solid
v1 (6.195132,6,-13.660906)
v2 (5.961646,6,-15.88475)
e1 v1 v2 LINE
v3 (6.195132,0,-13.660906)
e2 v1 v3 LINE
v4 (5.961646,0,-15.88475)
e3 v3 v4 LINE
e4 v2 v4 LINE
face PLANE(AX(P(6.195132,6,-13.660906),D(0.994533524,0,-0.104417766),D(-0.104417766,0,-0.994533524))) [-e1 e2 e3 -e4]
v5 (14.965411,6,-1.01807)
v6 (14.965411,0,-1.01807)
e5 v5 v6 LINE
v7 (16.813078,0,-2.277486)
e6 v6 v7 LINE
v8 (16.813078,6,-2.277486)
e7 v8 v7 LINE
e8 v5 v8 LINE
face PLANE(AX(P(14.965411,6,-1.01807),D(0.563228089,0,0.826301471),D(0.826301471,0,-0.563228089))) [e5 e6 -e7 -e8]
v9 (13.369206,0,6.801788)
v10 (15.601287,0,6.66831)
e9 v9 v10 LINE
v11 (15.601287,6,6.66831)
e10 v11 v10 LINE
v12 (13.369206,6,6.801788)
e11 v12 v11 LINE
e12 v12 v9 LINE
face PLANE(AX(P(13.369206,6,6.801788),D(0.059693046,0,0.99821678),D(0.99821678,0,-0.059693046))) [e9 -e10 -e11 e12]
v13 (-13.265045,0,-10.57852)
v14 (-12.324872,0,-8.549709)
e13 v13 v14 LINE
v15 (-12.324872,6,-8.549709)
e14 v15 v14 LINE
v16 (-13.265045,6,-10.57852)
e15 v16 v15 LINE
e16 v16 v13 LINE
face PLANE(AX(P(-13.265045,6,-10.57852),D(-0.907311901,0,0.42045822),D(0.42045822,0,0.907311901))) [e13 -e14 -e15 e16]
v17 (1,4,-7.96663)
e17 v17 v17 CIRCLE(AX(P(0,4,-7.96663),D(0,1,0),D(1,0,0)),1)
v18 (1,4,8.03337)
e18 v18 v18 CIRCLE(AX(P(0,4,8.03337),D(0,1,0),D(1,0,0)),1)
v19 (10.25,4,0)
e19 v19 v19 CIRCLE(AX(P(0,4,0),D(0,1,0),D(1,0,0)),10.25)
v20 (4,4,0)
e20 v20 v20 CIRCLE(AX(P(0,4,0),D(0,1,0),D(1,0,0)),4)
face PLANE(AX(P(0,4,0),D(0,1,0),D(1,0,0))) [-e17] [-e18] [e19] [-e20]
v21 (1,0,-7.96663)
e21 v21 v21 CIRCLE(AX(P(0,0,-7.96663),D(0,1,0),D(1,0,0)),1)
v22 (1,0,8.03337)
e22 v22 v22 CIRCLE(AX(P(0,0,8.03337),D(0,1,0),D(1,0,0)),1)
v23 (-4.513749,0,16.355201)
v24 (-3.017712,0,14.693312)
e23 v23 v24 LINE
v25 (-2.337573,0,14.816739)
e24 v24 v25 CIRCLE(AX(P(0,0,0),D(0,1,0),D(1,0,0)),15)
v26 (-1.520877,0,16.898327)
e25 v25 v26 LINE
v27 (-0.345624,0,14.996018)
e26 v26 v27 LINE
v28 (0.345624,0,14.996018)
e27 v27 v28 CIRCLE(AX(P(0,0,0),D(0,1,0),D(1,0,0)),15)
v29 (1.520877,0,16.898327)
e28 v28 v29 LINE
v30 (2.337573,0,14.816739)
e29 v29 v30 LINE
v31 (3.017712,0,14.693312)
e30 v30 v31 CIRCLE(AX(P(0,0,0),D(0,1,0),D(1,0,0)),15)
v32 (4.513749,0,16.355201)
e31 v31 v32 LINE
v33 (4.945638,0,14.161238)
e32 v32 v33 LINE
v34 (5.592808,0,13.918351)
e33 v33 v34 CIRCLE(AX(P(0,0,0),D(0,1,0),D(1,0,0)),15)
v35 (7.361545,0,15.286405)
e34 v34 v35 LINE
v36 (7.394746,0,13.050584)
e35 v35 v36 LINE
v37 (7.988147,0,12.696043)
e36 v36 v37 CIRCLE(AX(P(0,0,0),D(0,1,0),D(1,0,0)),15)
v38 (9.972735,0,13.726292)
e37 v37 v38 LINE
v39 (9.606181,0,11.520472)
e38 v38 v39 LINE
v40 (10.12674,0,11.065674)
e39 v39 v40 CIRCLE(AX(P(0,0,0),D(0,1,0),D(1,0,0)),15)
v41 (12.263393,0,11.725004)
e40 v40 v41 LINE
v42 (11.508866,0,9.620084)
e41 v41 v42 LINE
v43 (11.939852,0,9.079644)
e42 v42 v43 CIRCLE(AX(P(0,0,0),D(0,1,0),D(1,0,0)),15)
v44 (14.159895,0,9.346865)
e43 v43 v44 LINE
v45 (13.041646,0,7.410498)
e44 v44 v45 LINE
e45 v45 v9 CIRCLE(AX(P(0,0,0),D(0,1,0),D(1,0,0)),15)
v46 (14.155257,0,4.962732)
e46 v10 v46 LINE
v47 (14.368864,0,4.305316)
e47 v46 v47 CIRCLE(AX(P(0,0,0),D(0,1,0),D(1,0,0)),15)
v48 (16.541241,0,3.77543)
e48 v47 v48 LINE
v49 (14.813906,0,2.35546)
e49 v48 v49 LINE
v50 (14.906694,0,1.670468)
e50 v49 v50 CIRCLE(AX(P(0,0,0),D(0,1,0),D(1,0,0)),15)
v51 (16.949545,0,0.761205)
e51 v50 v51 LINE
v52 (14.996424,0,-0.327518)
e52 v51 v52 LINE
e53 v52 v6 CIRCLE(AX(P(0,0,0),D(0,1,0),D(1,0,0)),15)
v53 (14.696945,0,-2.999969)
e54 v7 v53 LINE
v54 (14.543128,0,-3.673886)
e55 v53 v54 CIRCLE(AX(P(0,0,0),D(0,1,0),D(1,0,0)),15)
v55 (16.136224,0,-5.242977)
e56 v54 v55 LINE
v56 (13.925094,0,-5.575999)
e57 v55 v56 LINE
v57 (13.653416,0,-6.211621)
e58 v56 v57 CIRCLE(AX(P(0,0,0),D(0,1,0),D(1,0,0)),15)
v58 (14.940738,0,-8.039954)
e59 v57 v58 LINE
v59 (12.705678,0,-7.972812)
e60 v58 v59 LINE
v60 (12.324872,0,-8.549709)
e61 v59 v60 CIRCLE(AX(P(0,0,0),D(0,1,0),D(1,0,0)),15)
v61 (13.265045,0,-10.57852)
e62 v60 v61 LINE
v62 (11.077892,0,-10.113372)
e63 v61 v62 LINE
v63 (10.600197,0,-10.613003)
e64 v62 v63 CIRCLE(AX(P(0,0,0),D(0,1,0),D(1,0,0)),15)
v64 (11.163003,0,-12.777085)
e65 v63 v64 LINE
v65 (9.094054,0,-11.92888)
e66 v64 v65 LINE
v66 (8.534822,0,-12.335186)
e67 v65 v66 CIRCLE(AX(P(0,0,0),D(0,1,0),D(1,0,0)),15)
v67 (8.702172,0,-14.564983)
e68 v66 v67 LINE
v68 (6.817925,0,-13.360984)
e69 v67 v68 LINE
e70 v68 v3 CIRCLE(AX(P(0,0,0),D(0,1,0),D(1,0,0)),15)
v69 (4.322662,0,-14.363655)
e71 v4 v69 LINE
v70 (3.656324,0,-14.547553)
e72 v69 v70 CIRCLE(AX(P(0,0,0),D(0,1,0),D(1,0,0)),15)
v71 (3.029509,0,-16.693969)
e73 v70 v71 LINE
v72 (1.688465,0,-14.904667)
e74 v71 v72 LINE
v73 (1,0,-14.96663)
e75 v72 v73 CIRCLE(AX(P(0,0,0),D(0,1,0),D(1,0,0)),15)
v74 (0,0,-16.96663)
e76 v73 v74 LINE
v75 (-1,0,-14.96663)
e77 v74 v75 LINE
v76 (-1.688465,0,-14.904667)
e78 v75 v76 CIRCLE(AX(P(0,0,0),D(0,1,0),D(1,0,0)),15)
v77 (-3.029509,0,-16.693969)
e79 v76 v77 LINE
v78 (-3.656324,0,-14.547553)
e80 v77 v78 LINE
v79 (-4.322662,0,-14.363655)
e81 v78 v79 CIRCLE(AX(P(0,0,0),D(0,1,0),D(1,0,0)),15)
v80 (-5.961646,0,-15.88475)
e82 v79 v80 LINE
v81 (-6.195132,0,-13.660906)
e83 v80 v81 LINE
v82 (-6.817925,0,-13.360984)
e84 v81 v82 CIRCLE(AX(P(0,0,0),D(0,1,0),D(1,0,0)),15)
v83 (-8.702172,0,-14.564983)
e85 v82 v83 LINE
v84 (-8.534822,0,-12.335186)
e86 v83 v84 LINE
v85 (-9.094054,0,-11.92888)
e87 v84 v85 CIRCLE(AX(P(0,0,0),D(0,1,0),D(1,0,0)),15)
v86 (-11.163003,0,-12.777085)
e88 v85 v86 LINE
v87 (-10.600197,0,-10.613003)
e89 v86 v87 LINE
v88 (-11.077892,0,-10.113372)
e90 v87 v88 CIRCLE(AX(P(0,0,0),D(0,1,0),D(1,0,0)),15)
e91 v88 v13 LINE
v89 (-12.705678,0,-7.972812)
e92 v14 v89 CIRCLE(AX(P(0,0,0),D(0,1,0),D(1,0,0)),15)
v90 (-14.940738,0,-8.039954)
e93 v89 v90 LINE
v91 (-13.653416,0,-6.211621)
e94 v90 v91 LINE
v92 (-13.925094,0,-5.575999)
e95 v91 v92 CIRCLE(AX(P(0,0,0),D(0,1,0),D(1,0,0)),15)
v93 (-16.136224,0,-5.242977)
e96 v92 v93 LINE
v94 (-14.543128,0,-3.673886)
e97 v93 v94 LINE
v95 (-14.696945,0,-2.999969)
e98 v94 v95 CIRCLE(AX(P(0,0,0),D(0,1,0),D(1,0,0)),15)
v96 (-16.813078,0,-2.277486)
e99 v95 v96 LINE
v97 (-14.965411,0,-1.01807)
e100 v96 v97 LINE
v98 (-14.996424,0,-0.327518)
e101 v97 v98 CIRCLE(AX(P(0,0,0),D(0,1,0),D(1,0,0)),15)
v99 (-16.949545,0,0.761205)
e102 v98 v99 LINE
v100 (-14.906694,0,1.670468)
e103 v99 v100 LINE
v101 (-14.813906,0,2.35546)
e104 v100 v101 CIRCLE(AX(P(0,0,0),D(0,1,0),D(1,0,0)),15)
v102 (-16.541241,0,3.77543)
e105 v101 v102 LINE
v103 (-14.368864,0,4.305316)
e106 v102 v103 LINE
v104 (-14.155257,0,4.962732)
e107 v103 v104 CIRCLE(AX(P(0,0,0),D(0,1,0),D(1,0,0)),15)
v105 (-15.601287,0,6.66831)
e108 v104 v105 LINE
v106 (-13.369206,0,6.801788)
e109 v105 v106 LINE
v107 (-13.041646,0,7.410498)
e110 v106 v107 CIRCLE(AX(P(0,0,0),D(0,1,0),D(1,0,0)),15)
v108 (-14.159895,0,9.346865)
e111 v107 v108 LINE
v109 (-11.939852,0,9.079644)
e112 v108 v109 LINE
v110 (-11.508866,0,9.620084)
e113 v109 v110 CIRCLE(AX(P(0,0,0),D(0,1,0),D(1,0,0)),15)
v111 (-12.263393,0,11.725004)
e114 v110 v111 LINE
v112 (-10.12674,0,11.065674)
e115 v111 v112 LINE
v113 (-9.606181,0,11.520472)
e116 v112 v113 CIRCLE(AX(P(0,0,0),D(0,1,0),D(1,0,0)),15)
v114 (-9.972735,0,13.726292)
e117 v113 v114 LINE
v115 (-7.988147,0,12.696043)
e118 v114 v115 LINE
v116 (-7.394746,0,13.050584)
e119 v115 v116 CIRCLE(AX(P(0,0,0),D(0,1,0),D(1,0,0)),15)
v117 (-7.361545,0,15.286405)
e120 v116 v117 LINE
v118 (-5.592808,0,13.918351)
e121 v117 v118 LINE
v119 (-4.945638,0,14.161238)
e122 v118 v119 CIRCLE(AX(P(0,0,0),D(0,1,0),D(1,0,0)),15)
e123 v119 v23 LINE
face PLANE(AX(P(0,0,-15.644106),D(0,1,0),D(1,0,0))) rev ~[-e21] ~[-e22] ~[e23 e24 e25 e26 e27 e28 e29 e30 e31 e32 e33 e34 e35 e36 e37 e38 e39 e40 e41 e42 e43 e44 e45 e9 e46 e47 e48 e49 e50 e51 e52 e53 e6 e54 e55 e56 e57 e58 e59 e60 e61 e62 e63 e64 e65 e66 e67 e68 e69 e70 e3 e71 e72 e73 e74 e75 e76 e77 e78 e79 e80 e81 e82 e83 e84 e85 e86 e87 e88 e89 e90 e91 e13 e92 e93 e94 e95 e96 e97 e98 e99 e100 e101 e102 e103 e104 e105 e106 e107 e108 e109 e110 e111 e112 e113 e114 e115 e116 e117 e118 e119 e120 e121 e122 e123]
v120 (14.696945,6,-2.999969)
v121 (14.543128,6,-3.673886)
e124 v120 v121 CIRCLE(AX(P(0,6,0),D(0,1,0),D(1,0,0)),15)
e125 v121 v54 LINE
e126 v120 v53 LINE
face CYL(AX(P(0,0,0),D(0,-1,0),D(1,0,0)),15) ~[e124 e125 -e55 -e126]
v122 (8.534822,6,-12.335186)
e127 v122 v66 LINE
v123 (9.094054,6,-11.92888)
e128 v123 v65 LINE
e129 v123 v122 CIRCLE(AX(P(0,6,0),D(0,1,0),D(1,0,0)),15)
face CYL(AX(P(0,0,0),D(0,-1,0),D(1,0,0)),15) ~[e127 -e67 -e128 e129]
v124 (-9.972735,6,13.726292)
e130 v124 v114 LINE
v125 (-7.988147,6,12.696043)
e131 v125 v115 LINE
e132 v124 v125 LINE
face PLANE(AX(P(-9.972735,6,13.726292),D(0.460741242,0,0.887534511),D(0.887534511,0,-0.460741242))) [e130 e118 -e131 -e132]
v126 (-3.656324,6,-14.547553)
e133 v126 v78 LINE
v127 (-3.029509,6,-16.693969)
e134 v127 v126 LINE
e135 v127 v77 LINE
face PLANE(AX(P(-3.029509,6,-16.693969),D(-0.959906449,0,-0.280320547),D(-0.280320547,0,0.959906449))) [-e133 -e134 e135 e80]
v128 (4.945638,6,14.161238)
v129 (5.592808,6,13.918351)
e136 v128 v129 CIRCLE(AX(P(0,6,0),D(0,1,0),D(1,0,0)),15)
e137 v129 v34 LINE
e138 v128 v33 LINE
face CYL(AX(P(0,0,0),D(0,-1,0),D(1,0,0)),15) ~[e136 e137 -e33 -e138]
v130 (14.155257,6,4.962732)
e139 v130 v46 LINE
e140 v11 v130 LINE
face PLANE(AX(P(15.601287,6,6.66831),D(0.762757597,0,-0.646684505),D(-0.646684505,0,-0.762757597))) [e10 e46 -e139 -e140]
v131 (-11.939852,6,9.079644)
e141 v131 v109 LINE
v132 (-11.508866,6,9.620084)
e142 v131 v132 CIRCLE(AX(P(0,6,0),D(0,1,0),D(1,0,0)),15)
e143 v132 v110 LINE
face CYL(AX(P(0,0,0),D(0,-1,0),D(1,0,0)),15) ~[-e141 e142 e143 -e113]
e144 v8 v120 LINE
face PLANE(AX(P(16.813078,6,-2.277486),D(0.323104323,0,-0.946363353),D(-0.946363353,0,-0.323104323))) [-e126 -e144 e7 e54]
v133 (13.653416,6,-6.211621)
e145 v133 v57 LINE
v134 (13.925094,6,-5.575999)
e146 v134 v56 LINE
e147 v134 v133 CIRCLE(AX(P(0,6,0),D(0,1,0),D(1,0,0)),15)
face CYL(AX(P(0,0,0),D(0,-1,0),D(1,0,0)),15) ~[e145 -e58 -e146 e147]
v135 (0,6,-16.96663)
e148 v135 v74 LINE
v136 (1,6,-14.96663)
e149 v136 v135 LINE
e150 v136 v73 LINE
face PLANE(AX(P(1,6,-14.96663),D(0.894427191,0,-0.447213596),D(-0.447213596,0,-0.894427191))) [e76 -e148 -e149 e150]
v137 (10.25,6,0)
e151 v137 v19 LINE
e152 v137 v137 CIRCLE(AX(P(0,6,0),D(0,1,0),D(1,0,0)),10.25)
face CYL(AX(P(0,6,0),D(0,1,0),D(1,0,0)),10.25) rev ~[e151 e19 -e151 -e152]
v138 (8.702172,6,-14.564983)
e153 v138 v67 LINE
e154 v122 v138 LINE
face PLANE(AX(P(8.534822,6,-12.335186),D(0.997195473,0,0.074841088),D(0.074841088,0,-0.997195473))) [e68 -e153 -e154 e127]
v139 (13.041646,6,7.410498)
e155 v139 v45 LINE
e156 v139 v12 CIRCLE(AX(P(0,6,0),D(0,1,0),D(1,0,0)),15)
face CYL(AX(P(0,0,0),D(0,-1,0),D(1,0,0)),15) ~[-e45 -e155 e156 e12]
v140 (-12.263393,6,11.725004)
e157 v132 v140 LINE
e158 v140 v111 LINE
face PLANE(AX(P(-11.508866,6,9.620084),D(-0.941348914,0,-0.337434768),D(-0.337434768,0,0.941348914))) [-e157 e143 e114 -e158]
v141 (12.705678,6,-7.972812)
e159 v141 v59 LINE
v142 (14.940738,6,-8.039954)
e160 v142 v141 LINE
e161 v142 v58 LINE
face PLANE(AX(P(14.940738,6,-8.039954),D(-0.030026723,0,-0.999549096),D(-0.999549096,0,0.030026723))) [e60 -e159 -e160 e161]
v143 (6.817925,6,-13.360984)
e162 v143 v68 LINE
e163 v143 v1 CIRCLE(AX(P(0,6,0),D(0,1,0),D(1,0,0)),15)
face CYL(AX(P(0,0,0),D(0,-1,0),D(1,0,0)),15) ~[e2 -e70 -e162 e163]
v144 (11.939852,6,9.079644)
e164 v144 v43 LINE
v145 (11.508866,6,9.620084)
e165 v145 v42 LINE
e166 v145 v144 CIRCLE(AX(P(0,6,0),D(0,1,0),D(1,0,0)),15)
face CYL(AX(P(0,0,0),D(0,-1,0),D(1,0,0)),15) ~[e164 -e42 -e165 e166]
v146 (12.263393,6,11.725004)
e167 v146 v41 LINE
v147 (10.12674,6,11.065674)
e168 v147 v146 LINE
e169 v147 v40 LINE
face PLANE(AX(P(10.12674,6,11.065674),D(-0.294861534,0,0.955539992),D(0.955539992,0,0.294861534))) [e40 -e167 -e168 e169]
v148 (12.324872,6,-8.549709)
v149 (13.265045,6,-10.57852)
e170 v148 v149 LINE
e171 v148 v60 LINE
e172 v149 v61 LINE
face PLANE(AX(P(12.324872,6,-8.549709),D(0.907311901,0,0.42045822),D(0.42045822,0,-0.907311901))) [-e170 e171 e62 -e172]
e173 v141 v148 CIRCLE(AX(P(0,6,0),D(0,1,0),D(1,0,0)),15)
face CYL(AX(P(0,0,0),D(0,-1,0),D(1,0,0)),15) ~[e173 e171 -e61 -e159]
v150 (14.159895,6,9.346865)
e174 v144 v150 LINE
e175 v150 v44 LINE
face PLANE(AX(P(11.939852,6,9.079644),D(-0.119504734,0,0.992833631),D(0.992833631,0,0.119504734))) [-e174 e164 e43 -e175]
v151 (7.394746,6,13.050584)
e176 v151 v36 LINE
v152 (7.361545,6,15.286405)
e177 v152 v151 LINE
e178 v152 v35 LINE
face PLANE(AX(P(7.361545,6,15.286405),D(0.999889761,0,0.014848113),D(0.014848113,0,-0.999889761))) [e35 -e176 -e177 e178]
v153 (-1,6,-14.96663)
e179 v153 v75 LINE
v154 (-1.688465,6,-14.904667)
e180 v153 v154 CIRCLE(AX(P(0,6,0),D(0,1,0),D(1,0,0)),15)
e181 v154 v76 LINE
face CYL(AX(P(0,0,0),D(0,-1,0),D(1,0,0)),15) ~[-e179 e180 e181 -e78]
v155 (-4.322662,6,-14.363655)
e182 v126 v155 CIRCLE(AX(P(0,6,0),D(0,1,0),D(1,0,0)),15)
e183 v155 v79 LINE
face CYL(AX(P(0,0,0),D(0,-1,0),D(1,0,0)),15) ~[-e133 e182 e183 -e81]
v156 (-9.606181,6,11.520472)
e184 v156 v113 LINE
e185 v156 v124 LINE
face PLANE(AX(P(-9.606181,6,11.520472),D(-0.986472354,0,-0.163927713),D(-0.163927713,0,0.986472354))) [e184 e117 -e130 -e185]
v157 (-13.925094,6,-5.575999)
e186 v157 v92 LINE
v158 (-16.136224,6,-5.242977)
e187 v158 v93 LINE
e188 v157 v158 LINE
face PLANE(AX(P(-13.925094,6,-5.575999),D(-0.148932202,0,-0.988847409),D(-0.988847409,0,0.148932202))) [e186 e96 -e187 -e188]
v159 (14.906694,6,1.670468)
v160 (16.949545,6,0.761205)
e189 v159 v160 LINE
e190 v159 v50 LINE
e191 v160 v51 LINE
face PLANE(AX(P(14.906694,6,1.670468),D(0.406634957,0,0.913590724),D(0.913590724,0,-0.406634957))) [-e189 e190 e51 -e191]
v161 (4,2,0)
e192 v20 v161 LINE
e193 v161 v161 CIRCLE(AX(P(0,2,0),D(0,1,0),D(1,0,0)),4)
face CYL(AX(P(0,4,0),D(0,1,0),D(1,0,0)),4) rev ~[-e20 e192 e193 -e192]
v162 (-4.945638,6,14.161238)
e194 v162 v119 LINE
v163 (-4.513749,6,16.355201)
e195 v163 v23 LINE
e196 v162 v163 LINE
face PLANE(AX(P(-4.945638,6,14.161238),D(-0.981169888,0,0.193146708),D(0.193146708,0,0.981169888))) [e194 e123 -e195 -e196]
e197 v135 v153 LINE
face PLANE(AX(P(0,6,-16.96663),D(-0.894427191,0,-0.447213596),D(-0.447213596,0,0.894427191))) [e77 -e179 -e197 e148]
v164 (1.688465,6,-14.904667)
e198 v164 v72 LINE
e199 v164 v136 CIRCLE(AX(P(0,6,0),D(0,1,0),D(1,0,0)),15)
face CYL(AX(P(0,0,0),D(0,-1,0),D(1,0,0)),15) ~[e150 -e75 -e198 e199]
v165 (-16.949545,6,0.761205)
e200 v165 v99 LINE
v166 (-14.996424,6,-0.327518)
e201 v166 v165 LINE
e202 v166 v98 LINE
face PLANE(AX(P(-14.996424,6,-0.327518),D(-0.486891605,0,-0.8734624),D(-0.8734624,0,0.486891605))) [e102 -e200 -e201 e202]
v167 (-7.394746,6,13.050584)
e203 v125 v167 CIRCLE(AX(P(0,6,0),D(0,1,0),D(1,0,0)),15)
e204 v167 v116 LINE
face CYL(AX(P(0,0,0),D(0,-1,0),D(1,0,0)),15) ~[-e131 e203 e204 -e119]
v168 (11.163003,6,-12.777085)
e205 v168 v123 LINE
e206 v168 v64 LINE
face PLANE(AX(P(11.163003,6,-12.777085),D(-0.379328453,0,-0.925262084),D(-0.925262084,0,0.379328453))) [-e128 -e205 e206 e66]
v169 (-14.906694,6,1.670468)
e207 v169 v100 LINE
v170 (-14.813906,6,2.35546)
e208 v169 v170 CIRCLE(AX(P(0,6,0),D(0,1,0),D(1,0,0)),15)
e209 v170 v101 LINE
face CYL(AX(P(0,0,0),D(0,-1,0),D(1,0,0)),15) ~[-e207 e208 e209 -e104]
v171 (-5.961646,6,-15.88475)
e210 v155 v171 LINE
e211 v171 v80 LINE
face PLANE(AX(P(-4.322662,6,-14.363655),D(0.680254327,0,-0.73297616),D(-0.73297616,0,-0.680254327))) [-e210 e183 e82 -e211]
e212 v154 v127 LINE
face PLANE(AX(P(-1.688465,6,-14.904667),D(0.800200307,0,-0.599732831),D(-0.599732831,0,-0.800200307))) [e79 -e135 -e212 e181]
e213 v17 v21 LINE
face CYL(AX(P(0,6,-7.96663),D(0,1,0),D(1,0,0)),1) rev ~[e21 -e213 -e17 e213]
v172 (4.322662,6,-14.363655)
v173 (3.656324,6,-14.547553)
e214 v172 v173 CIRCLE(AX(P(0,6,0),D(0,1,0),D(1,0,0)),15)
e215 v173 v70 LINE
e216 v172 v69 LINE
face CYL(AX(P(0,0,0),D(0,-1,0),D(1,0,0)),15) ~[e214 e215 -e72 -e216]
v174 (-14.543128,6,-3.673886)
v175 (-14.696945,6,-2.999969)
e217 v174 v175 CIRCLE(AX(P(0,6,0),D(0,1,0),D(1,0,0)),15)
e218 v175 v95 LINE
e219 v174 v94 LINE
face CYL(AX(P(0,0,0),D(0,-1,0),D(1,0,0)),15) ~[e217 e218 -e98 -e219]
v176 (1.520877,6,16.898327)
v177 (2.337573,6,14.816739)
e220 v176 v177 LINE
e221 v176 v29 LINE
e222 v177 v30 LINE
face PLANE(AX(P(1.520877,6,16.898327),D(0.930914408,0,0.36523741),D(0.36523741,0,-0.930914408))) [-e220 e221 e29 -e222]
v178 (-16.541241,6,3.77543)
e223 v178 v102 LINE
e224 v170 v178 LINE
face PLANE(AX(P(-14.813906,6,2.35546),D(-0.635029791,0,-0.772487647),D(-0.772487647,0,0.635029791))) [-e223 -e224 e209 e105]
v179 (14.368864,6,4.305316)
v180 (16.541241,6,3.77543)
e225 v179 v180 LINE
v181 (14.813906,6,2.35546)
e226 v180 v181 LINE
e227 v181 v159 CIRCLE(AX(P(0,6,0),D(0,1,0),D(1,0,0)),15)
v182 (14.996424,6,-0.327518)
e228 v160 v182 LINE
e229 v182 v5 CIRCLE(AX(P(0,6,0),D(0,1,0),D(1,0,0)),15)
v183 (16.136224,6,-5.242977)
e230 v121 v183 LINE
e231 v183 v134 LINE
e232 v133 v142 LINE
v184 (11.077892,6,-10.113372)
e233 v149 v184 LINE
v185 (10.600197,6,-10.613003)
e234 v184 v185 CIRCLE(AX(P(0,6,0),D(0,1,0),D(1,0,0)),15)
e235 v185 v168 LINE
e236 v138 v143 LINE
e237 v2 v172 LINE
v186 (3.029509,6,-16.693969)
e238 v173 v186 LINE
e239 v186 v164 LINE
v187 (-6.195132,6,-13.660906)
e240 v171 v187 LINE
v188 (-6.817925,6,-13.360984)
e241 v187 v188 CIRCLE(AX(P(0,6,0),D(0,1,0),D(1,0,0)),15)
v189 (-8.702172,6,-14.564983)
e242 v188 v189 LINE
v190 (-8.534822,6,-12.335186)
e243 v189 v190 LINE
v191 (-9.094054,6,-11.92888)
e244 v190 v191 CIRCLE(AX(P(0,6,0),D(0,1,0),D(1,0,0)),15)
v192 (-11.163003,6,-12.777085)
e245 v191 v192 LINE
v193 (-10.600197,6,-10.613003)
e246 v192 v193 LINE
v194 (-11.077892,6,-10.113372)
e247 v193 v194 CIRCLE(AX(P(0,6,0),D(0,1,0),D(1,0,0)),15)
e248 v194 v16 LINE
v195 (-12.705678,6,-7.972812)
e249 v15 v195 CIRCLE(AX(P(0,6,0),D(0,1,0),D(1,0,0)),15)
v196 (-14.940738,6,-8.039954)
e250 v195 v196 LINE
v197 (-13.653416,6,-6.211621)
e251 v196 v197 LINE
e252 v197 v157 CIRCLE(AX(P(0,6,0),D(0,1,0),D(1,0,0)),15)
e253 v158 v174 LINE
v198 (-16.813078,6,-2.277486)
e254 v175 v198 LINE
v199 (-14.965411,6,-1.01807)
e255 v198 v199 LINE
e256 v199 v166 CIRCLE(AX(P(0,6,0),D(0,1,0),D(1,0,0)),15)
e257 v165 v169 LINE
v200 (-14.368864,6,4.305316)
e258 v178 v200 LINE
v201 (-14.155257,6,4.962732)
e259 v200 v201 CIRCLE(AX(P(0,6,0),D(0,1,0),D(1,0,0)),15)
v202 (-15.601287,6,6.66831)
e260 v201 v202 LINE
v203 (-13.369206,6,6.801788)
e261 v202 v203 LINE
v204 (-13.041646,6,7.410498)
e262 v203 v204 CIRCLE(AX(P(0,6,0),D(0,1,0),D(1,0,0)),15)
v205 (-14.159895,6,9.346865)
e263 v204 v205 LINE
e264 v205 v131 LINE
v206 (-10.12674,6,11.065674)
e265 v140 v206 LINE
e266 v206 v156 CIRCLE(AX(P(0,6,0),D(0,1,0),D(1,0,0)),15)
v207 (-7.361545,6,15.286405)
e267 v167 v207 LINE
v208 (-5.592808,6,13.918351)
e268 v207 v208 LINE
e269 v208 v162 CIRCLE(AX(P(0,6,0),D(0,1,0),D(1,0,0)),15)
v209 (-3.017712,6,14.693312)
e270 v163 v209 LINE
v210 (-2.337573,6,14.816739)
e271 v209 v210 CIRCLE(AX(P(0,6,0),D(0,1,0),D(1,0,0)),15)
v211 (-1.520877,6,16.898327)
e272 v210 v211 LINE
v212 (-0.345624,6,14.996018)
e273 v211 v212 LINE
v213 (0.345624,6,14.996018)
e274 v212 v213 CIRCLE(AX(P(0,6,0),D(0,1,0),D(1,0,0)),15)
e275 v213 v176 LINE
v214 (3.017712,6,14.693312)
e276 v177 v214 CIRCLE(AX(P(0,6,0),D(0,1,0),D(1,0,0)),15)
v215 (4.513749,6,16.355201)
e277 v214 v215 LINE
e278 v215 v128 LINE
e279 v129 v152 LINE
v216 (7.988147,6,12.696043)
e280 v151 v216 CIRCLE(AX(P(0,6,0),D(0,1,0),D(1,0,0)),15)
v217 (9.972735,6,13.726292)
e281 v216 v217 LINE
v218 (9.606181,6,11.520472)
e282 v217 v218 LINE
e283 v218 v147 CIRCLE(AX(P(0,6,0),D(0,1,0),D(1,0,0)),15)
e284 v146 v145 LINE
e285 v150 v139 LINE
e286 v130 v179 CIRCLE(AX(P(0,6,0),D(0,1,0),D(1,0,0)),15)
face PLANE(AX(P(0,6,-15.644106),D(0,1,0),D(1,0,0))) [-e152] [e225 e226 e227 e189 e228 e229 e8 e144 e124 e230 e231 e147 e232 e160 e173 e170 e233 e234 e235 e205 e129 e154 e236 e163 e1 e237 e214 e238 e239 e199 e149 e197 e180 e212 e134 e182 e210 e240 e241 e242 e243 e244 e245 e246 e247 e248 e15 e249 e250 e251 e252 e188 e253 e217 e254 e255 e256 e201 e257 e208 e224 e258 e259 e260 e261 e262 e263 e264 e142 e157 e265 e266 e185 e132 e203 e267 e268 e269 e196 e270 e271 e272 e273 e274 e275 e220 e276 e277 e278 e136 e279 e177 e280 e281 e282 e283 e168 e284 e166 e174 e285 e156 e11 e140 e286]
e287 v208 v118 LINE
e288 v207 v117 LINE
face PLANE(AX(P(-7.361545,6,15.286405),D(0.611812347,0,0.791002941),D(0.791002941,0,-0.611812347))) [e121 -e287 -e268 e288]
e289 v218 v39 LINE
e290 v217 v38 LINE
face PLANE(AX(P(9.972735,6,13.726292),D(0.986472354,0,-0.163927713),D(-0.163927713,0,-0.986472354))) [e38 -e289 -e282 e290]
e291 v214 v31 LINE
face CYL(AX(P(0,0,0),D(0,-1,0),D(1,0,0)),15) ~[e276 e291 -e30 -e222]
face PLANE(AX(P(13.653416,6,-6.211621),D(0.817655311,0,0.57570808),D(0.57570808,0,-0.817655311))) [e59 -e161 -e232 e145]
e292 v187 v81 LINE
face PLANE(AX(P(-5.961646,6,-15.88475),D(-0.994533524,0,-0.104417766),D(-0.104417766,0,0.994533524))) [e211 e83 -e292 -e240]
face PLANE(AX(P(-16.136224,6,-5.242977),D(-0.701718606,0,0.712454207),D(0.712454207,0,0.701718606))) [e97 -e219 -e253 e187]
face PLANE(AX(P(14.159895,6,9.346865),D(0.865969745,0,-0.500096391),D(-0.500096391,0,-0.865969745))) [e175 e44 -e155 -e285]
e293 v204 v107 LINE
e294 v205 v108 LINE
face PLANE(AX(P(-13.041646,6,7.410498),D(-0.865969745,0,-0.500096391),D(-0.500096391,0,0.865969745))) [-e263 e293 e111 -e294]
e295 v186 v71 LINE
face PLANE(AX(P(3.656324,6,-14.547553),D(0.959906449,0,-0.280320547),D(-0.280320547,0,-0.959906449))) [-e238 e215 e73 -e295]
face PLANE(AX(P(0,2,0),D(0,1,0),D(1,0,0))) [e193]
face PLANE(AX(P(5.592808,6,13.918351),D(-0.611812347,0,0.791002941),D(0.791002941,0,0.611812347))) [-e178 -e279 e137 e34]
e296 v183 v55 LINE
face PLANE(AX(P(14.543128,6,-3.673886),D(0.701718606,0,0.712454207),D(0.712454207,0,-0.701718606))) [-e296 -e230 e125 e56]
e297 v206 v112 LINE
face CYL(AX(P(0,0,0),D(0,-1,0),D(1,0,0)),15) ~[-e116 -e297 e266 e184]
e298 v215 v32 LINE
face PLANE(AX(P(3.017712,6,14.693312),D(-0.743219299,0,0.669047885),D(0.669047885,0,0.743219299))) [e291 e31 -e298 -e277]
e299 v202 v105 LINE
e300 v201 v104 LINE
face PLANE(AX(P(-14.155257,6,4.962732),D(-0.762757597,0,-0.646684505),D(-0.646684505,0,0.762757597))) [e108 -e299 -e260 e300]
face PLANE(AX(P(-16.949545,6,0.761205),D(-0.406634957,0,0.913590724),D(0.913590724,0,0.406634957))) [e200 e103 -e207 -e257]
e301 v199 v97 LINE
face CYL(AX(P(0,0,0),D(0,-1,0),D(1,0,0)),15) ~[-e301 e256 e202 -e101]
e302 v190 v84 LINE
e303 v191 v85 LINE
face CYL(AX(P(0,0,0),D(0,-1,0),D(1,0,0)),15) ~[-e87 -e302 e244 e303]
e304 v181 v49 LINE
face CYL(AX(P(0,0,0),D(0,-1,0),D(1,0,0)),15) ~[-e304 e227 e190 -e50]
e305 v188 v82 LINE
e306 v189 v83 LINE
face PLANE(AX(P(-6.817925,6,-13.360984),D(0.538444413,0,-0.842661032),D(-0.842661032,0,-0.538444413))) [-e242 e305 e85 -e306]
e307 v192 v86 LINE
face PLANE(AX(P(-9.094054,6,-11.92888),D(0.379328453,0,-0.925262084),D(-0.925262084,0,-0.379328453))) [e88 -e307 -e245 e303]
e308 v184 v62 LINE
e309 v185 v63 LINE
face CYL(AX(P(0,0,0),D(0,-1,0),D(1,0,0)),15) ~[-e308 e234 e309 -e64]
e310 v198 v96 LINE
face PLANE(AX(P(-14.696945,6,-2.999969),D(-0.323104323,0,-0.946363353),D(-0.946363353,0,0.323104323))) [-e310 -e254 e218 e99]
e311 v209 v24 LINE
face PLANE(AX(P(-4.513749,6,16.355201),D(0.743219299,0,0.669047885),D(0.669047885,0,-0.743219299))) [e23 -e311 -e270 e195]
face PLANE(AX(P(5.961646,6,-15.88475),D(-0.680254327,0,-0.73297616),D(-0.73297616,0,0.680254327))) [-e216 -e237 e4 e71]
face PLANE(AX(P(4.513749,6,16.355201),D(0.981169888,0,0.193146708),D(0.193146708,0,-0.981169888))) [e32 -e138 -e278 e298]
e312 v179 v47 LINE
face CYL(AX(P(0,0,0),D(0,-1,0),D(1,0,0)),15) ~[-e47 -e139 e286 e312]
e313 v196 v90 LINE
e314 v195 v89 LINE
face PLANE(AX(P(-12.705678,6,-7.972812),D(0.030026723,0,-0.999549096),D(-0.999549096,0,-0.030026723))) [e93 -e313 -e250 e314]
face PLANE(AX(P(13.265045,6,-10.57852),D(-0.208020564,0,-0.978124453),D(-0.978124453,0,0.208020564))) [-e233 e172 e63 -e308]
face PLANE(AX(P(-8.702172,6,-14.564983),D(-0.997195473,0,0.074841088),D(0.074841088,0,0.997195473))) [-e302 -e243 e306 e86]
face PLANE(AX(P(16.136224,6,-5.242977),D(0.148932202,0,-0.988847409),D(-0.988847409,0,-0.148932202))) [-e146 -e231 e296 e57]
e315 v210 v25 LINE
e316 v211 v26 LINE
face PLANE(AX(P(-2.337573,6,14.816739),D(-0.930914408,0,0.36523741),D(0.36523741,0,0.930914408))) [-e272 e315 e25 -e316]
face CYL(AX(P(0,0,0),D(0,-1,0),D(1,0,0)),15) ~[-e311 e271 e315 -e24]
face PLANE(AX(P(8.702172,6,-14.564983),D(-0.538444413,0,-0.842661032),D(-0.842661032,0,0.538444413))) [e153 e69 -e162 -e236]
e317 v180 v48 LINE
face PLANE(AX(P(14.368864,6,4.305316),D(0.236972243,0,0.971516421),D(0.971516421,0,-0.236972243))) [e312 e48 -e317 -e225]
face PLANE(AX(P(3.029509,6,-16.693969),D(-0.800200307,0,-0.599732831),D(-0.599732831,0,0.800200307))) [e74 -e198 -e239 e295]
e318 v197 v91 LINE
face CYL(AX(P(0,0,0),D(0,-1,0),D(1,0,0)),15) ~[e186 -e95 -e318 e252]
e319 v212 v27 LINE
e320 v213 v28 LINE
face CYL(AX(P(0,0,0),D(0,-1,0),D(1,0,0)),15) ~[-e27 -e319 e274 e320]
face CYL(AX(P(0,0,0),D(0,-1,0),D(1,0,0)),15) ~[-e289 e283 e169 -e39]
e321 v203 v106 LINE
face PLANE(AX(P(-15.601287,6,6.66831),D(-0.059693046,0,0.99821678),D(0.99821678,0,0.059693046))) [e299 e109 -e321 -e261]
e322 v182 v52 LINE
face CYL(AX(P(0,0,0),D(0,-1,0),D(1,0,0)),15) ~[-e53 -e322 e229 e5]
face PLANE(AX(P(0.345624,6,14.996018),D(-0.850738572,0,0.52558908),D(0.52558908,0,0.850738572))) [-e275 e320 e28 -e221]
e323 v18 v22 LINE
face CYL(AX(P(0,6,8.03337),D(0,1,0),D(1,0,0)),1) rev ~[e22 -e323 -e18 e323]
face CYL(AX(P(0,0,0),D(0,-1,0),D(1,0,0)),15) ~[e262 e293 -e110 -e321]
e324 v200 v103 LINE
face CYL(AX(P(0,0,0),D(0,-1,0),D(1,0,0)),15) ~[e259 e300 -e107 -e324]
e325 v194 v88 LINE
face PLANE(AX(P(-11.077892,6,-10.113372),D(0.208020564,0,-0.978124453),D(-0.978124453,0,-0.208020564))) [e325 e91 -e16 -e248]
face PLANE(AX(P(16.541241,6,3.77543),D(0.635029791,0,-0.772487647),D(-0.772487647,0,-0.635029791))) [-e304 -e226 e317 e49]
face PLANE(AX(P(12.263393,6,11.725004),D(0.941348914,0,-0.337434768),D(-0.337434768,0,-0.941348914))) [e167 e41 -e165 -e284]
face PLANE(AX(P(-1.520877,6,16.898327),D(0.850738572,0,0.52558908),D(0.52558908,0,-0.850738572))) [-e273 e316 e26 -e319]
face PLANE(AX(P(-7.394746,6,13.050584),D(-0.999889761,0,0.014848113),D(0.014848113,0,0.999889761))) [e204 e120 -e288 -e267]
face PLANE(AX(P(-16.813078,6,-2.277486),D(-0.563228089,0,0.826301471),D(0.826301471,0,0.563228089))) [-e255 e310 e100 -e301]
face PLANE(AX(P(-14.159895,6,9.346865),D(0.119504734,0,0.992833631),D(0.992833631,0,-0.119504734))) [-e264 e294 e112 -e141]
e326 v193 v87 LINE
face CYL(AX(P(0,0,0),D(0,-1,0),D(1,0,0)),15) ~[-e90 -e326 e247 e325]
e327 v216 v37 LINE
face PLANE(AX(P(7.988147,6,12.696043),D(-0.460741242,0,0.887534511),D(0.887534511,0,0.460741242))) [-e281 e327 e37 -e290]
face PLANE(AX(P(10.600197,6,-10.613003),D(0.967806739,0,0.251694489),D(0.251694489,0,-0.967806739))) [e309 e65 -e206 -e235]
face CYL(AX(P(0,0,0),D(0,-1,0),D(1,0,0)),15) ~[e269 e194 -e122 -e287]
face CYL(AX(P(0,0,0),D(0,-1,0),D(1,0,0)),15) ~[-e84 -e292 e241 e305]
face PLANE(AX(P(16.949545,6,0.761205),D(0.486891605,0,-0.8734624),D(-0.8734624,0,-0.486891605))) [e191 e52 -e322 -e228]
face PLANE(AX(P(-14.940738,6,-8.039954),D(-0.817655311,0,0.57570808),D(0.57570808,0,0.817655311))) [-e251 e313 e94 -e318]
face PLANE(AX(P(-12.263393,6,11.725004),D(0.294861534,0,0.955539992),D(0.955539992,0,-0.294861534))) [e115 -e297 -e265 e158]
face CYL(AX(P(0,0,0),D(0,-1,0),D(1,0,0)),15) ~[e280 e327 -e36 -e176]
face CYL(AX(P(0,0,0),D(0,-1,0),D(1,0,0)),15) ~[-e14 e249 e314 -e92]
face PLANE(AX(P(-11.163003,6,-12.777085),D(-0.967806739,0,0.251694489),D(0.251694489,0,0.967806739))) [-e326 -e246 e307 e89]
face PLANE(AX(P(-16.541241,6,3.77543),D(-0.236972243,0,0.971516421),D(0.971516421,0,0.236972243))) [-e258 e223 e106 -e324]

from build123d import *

# Parameters (mm, degrees)
SKETCH_1_R          = 15
EXTRUDE_1_DEPTH     = 6
EXTRUDE_2_DEPTH     = 6
SKETCH_3_R          = 1
CUT_EXTRUDE_1_DEPTH = 6
SKETCH_4_R          = 10.25
CUT_EXTRUDE_2_DEPTH = 2
SKETCH_5_R          = 4
CUT_EXTRUDE_3_DEPTH = 2


with BuildPart() as part:
    # 草图1 → 凸台-拉伸1 (new body)
    with BuildSketch(Plane(origin=(0, 0, 0), x_dir=(1, 0, 0), z_dir=(0, 1, 0))):
        Circle(SKETCH_1_R)
    extrude(amount=EXTRUDE_1_DEPTH)

    # 草图2 → 凸台-拉伸2 (add)
    with BuildSketch(Plane(origin=(0, 6, 0), x_dir=(1, 0, 0), z_dir=(0, 1, 0))):
        Polygon((0, 16.966629547), (-1, 14.966629547), (-1, 14.940773363), (1, 14.940773363), (1, 14.966629547), align=None)
        Polygon((3.656324486, 14.547552758), (3.029508687, 16.69396883), (1.688465309, 14.904666548), (1.683848509, 14.879225883), (3.651707686, 14.522112094), align=None)
        Polygon((6.195131695, 13.660905654), (5.961646472, 15.884750219), (4.322661954, 14.363655302), (4.313576741, 14.339447841), (6.186046483, 13.636698193), align=None)
        Polygon((8.534822274, 12.335185802), (8.702172035, 14.564982666), (6.817924686, 13.360984356), (6.804663068, 13.338788146), (8.521560655, 12.312989592), align=None)
        Polygon((10.600196642, 10.613002928), (11.163002628, 12.777084586), (9.09405371, 11.92888038), (9.077041925, 11.909408826), (10.583184857, 10.593531374), align=None)
        Polygon((12.324871968, 8.549709408), (13.265045131, 10.578520495), (11.077892365, 10.113372373), (11.057677186, 10.097251306), (12.30465679, 8.533588341), align=None)
        Polygon((13.653415769, 6.211621193), (14.94073817, 8.03995405), (12.705678444, 7.972812257), (12.682909604, 7.960559822), (13.630646929, 6.199368758), align=None)
        Polygon((14.543127552, 3.673886362), (16.13622359, 5.242976867), (13.925093563, 5.575999395), (13.900502871, 5.568009395), (14.51853686, 3.665896362), align=None)
        Polygon((14.96541125, 1.018069801), (16.813077508, 2.277486094), (14.696944718, 2.999969324), (14.671322539, 2.996498564), (14.939789071, 1.014599041), align=None)
        Polygon((14.906694317, -1.670468362), (16.94954528, -0.761204956), (14.996423977, 0.327517771), (14.970593829, 0.328677804), (14.880864168, -1.669308329), align=None)
        Polygon((14.368863963, -4.305316297), (16.541240721, -3.775430253), (14.813905831, -2.355460473), (14.788697915, -2.349706931), (14.343656047, -4.299562755), align=None)
        Polygon((13.369206498, -6.801787824), (15.601287075, -6.668310115), (14.155256562, -4.962732279), (14.131481082, -4.952570151), (13.345431019, -6.791625697), align=None)
        Polygon((11.939851737, -9.079644294), (14.159895226, -9.346865003), (13.0416457, -7.410497786), (13.02006682, -7.396253693), (11.918272857, -9.0654002), align=None)
        Polygon((10.126740316, -11.065673525), (12.263392693, -11.725003959), (11.508865614, -9.620083797), (11.490176897, -9.602215554), (10.1080516, -11.047805282), align=None)
        Polygon((7.98814713, -12.696042904), (9.972734629, -13.726291641), (9.606181119, -11.5204724), (9.590983235, -11.499554308), (7.972949246, -12.675124812), align=None)
        Polygon((5.592808322, -13.918351018), (7.361544668, -15.286405015), (7.394746058, -13.05058354), (7.38352748, -13.027287923), (5.581589744, -13.895055402), align=None)
        Polygon((3.017712053, -14.693311879), (4.513748605, -16.355200755), (4.945637774, -14.161238188), (4.938759077, -14.136313787), (3.010833355, -14.668387478), align=None)
        Polygon((0.345624035, -14.996017606), (1.520876947, -16.898326885), (2.337572623, -14.816738988), (2.335254893, -14.790986893), (0.343306305, -14.970265511), align=None)
        Polygon((-2.337572623, -14.816738988), (-1.520876947, -16.898326885), (-0.345624035, -14.996017606), (-0.343306305, -14.970265511), (-2.335254893, -14.790986893), align=None)
        Polygon((-4.945637774, -14.161238188), (-4.513748605, -16.355200755), (-3.017712053, -14.693311879), (-3.010833355, -14.668387478), (-4.938759077, -14.136313787), align=None)
        Polygon((-7.394746058, -13.05058354), (-7.361544668, -15.286405015), (-5.592808322, -13.918351018), (-5.581589744, -13.895055402), (-7.38352748, -13.027287923), align=None)
        Polygon((-9.606181119, -11.5204724), (-9.972734629, -13.726291641), (-7.98814713, -12.696042904), (-7.972949246, -12.675124812), (-9.590983235, -11.499554308), align=None)
        Polygon((-11.508865614, -9.620083797), (-12.263392693, -11.725003959), (-10.126740316, -11.065673525), (-10.108051599, -11.047805282), (-11.490176897, -9.602215554), align=None)
        Polygon((-13.0416457, -7.410497786), (-14.159895226, -9.346865003), (-11.939851737, -9.079644294), (-11.918272857, -9.0654002), (-13.02006682, -7.396253693), align=None)
        Polygon((-14.155256562, -4.962732279), (-15.601287075, -6.668310115), (-13.369206498, -6.801787824), (-13.345431019, -6.791625697), (-14.131481082, -4.952570151), align=None)
        Polygon((-14.813905831, -2.355460473), (-16.541240721, -3.775430253), (-14.368863963, -4.305316297), (-14.343656047, -4.299562755), (-14.788697915, -2.349706931), align=None)
        Polygon((-14.996423977, 0.327517771), (-16.94954528, -0.761204956), (-14.906694317, -1.670468362), (-14.880864168, -1.669308329), (-14.970593829, 0.328677804), align=None)
        Polygon((-14.696944718, 2.999969324), (-16.813077508, 2.277486094), (-14.96541125, 1.018069801), (-14.939789071, 1.014599041), (-14.671322539, 2.996498564), align=None)
        Polygon((-13.925093563, 5.575999395), (-16.13622359, 5.242976867), (-14.543127552, 3.673886362), (-14.51853686, 3.665896362), (-13.900502871, 5.568009395), align=None)
        Polygon((-12.705678444, 7.972812257), (-14.94073817, 8.03995405), (-13.653415769, 6.211621193), (-13.630646929, 6.199368758), (-12.682909604, 7.960559822), align=None)
        Polygon((-11.077892364, 10.113372373), (-13.265045131, 10.578520495), (-12.324871968, 8.549709408), (-12.30465679, 8.533588341), (-11.057677186, 10.097251306), align=None)
        Polygon((-9.09405371, 11.92888038), (-11.163002628, 12.777084586), (-10.600196642, 10.613002928), (-10.583184857, 10.593531374), (-9.077041925, 11.909408826), align=None)
        Polygon((-6.817924686, 13.360984356), (-8.702172035, 14.564982666), (-8.534822274, 12.335185802), (-8.521560655, 12.312989592), (-6.804663068, 13.338788146), align=None)
        Polygon((-4.322661954, 14.363655302), (-5.961646472, 15.884750219), (-6.195131695, 13.660905654), (-6.186046483, 13.636698193), (-4.313576741, 14.339447841), align=None)
        Polygon((-1.688465309, 14.904666548), (-3.029508687, 16.69396883), (-3.656324486, 14.547552758), (-3.651707686, 14.522112094), (-1.683848509, 14.879225883), align=None)
    extrude(amount=-EXTRUDE_2_DEPTH)

    # 草图3 → 切除-拉伸1 (cut)
    with BuildSketch(Plane(origin=(0, 6, 0), x_dir=(1, 0, 0), z_dir=(0, 1, 0))):
        with Locations((0, 7.966629547)):
            Circle(SKETCH_3_R)
        with Locations((0, -8.033370453)):
            Circle(SKETCH_3_R)
    extrude(amount=-CUT_EXTRUDE_1_DEPTH, mode=Mode.SUBTRACT)

    # 草图4 → 切除-拉伸2 (cut)
    with BuildSketch(Plane(origin=(0, 6, 0), x_dir=(1, 0, 0), z_dir=(0, 1, 0))):
        Circle(SKETCH_4_R)
    extrude(amount=-CUT_EXTRUDE_2_DEPTH, mode=Mode.SUBTRACT)

    # 草图5 → 切除-拉伸3 (cut)
    with BuildSketch(Plane(origin=(0, 4, 0), x_dir=(1, 0, 0), z_dir=(0, 1, 0))):
        Circle(SKETCH_5_R)
    extrude(amount=-CUT_EXTRUDE_3_DEPTH, mode=Mode.SUBTRACT)


solid = part.part
